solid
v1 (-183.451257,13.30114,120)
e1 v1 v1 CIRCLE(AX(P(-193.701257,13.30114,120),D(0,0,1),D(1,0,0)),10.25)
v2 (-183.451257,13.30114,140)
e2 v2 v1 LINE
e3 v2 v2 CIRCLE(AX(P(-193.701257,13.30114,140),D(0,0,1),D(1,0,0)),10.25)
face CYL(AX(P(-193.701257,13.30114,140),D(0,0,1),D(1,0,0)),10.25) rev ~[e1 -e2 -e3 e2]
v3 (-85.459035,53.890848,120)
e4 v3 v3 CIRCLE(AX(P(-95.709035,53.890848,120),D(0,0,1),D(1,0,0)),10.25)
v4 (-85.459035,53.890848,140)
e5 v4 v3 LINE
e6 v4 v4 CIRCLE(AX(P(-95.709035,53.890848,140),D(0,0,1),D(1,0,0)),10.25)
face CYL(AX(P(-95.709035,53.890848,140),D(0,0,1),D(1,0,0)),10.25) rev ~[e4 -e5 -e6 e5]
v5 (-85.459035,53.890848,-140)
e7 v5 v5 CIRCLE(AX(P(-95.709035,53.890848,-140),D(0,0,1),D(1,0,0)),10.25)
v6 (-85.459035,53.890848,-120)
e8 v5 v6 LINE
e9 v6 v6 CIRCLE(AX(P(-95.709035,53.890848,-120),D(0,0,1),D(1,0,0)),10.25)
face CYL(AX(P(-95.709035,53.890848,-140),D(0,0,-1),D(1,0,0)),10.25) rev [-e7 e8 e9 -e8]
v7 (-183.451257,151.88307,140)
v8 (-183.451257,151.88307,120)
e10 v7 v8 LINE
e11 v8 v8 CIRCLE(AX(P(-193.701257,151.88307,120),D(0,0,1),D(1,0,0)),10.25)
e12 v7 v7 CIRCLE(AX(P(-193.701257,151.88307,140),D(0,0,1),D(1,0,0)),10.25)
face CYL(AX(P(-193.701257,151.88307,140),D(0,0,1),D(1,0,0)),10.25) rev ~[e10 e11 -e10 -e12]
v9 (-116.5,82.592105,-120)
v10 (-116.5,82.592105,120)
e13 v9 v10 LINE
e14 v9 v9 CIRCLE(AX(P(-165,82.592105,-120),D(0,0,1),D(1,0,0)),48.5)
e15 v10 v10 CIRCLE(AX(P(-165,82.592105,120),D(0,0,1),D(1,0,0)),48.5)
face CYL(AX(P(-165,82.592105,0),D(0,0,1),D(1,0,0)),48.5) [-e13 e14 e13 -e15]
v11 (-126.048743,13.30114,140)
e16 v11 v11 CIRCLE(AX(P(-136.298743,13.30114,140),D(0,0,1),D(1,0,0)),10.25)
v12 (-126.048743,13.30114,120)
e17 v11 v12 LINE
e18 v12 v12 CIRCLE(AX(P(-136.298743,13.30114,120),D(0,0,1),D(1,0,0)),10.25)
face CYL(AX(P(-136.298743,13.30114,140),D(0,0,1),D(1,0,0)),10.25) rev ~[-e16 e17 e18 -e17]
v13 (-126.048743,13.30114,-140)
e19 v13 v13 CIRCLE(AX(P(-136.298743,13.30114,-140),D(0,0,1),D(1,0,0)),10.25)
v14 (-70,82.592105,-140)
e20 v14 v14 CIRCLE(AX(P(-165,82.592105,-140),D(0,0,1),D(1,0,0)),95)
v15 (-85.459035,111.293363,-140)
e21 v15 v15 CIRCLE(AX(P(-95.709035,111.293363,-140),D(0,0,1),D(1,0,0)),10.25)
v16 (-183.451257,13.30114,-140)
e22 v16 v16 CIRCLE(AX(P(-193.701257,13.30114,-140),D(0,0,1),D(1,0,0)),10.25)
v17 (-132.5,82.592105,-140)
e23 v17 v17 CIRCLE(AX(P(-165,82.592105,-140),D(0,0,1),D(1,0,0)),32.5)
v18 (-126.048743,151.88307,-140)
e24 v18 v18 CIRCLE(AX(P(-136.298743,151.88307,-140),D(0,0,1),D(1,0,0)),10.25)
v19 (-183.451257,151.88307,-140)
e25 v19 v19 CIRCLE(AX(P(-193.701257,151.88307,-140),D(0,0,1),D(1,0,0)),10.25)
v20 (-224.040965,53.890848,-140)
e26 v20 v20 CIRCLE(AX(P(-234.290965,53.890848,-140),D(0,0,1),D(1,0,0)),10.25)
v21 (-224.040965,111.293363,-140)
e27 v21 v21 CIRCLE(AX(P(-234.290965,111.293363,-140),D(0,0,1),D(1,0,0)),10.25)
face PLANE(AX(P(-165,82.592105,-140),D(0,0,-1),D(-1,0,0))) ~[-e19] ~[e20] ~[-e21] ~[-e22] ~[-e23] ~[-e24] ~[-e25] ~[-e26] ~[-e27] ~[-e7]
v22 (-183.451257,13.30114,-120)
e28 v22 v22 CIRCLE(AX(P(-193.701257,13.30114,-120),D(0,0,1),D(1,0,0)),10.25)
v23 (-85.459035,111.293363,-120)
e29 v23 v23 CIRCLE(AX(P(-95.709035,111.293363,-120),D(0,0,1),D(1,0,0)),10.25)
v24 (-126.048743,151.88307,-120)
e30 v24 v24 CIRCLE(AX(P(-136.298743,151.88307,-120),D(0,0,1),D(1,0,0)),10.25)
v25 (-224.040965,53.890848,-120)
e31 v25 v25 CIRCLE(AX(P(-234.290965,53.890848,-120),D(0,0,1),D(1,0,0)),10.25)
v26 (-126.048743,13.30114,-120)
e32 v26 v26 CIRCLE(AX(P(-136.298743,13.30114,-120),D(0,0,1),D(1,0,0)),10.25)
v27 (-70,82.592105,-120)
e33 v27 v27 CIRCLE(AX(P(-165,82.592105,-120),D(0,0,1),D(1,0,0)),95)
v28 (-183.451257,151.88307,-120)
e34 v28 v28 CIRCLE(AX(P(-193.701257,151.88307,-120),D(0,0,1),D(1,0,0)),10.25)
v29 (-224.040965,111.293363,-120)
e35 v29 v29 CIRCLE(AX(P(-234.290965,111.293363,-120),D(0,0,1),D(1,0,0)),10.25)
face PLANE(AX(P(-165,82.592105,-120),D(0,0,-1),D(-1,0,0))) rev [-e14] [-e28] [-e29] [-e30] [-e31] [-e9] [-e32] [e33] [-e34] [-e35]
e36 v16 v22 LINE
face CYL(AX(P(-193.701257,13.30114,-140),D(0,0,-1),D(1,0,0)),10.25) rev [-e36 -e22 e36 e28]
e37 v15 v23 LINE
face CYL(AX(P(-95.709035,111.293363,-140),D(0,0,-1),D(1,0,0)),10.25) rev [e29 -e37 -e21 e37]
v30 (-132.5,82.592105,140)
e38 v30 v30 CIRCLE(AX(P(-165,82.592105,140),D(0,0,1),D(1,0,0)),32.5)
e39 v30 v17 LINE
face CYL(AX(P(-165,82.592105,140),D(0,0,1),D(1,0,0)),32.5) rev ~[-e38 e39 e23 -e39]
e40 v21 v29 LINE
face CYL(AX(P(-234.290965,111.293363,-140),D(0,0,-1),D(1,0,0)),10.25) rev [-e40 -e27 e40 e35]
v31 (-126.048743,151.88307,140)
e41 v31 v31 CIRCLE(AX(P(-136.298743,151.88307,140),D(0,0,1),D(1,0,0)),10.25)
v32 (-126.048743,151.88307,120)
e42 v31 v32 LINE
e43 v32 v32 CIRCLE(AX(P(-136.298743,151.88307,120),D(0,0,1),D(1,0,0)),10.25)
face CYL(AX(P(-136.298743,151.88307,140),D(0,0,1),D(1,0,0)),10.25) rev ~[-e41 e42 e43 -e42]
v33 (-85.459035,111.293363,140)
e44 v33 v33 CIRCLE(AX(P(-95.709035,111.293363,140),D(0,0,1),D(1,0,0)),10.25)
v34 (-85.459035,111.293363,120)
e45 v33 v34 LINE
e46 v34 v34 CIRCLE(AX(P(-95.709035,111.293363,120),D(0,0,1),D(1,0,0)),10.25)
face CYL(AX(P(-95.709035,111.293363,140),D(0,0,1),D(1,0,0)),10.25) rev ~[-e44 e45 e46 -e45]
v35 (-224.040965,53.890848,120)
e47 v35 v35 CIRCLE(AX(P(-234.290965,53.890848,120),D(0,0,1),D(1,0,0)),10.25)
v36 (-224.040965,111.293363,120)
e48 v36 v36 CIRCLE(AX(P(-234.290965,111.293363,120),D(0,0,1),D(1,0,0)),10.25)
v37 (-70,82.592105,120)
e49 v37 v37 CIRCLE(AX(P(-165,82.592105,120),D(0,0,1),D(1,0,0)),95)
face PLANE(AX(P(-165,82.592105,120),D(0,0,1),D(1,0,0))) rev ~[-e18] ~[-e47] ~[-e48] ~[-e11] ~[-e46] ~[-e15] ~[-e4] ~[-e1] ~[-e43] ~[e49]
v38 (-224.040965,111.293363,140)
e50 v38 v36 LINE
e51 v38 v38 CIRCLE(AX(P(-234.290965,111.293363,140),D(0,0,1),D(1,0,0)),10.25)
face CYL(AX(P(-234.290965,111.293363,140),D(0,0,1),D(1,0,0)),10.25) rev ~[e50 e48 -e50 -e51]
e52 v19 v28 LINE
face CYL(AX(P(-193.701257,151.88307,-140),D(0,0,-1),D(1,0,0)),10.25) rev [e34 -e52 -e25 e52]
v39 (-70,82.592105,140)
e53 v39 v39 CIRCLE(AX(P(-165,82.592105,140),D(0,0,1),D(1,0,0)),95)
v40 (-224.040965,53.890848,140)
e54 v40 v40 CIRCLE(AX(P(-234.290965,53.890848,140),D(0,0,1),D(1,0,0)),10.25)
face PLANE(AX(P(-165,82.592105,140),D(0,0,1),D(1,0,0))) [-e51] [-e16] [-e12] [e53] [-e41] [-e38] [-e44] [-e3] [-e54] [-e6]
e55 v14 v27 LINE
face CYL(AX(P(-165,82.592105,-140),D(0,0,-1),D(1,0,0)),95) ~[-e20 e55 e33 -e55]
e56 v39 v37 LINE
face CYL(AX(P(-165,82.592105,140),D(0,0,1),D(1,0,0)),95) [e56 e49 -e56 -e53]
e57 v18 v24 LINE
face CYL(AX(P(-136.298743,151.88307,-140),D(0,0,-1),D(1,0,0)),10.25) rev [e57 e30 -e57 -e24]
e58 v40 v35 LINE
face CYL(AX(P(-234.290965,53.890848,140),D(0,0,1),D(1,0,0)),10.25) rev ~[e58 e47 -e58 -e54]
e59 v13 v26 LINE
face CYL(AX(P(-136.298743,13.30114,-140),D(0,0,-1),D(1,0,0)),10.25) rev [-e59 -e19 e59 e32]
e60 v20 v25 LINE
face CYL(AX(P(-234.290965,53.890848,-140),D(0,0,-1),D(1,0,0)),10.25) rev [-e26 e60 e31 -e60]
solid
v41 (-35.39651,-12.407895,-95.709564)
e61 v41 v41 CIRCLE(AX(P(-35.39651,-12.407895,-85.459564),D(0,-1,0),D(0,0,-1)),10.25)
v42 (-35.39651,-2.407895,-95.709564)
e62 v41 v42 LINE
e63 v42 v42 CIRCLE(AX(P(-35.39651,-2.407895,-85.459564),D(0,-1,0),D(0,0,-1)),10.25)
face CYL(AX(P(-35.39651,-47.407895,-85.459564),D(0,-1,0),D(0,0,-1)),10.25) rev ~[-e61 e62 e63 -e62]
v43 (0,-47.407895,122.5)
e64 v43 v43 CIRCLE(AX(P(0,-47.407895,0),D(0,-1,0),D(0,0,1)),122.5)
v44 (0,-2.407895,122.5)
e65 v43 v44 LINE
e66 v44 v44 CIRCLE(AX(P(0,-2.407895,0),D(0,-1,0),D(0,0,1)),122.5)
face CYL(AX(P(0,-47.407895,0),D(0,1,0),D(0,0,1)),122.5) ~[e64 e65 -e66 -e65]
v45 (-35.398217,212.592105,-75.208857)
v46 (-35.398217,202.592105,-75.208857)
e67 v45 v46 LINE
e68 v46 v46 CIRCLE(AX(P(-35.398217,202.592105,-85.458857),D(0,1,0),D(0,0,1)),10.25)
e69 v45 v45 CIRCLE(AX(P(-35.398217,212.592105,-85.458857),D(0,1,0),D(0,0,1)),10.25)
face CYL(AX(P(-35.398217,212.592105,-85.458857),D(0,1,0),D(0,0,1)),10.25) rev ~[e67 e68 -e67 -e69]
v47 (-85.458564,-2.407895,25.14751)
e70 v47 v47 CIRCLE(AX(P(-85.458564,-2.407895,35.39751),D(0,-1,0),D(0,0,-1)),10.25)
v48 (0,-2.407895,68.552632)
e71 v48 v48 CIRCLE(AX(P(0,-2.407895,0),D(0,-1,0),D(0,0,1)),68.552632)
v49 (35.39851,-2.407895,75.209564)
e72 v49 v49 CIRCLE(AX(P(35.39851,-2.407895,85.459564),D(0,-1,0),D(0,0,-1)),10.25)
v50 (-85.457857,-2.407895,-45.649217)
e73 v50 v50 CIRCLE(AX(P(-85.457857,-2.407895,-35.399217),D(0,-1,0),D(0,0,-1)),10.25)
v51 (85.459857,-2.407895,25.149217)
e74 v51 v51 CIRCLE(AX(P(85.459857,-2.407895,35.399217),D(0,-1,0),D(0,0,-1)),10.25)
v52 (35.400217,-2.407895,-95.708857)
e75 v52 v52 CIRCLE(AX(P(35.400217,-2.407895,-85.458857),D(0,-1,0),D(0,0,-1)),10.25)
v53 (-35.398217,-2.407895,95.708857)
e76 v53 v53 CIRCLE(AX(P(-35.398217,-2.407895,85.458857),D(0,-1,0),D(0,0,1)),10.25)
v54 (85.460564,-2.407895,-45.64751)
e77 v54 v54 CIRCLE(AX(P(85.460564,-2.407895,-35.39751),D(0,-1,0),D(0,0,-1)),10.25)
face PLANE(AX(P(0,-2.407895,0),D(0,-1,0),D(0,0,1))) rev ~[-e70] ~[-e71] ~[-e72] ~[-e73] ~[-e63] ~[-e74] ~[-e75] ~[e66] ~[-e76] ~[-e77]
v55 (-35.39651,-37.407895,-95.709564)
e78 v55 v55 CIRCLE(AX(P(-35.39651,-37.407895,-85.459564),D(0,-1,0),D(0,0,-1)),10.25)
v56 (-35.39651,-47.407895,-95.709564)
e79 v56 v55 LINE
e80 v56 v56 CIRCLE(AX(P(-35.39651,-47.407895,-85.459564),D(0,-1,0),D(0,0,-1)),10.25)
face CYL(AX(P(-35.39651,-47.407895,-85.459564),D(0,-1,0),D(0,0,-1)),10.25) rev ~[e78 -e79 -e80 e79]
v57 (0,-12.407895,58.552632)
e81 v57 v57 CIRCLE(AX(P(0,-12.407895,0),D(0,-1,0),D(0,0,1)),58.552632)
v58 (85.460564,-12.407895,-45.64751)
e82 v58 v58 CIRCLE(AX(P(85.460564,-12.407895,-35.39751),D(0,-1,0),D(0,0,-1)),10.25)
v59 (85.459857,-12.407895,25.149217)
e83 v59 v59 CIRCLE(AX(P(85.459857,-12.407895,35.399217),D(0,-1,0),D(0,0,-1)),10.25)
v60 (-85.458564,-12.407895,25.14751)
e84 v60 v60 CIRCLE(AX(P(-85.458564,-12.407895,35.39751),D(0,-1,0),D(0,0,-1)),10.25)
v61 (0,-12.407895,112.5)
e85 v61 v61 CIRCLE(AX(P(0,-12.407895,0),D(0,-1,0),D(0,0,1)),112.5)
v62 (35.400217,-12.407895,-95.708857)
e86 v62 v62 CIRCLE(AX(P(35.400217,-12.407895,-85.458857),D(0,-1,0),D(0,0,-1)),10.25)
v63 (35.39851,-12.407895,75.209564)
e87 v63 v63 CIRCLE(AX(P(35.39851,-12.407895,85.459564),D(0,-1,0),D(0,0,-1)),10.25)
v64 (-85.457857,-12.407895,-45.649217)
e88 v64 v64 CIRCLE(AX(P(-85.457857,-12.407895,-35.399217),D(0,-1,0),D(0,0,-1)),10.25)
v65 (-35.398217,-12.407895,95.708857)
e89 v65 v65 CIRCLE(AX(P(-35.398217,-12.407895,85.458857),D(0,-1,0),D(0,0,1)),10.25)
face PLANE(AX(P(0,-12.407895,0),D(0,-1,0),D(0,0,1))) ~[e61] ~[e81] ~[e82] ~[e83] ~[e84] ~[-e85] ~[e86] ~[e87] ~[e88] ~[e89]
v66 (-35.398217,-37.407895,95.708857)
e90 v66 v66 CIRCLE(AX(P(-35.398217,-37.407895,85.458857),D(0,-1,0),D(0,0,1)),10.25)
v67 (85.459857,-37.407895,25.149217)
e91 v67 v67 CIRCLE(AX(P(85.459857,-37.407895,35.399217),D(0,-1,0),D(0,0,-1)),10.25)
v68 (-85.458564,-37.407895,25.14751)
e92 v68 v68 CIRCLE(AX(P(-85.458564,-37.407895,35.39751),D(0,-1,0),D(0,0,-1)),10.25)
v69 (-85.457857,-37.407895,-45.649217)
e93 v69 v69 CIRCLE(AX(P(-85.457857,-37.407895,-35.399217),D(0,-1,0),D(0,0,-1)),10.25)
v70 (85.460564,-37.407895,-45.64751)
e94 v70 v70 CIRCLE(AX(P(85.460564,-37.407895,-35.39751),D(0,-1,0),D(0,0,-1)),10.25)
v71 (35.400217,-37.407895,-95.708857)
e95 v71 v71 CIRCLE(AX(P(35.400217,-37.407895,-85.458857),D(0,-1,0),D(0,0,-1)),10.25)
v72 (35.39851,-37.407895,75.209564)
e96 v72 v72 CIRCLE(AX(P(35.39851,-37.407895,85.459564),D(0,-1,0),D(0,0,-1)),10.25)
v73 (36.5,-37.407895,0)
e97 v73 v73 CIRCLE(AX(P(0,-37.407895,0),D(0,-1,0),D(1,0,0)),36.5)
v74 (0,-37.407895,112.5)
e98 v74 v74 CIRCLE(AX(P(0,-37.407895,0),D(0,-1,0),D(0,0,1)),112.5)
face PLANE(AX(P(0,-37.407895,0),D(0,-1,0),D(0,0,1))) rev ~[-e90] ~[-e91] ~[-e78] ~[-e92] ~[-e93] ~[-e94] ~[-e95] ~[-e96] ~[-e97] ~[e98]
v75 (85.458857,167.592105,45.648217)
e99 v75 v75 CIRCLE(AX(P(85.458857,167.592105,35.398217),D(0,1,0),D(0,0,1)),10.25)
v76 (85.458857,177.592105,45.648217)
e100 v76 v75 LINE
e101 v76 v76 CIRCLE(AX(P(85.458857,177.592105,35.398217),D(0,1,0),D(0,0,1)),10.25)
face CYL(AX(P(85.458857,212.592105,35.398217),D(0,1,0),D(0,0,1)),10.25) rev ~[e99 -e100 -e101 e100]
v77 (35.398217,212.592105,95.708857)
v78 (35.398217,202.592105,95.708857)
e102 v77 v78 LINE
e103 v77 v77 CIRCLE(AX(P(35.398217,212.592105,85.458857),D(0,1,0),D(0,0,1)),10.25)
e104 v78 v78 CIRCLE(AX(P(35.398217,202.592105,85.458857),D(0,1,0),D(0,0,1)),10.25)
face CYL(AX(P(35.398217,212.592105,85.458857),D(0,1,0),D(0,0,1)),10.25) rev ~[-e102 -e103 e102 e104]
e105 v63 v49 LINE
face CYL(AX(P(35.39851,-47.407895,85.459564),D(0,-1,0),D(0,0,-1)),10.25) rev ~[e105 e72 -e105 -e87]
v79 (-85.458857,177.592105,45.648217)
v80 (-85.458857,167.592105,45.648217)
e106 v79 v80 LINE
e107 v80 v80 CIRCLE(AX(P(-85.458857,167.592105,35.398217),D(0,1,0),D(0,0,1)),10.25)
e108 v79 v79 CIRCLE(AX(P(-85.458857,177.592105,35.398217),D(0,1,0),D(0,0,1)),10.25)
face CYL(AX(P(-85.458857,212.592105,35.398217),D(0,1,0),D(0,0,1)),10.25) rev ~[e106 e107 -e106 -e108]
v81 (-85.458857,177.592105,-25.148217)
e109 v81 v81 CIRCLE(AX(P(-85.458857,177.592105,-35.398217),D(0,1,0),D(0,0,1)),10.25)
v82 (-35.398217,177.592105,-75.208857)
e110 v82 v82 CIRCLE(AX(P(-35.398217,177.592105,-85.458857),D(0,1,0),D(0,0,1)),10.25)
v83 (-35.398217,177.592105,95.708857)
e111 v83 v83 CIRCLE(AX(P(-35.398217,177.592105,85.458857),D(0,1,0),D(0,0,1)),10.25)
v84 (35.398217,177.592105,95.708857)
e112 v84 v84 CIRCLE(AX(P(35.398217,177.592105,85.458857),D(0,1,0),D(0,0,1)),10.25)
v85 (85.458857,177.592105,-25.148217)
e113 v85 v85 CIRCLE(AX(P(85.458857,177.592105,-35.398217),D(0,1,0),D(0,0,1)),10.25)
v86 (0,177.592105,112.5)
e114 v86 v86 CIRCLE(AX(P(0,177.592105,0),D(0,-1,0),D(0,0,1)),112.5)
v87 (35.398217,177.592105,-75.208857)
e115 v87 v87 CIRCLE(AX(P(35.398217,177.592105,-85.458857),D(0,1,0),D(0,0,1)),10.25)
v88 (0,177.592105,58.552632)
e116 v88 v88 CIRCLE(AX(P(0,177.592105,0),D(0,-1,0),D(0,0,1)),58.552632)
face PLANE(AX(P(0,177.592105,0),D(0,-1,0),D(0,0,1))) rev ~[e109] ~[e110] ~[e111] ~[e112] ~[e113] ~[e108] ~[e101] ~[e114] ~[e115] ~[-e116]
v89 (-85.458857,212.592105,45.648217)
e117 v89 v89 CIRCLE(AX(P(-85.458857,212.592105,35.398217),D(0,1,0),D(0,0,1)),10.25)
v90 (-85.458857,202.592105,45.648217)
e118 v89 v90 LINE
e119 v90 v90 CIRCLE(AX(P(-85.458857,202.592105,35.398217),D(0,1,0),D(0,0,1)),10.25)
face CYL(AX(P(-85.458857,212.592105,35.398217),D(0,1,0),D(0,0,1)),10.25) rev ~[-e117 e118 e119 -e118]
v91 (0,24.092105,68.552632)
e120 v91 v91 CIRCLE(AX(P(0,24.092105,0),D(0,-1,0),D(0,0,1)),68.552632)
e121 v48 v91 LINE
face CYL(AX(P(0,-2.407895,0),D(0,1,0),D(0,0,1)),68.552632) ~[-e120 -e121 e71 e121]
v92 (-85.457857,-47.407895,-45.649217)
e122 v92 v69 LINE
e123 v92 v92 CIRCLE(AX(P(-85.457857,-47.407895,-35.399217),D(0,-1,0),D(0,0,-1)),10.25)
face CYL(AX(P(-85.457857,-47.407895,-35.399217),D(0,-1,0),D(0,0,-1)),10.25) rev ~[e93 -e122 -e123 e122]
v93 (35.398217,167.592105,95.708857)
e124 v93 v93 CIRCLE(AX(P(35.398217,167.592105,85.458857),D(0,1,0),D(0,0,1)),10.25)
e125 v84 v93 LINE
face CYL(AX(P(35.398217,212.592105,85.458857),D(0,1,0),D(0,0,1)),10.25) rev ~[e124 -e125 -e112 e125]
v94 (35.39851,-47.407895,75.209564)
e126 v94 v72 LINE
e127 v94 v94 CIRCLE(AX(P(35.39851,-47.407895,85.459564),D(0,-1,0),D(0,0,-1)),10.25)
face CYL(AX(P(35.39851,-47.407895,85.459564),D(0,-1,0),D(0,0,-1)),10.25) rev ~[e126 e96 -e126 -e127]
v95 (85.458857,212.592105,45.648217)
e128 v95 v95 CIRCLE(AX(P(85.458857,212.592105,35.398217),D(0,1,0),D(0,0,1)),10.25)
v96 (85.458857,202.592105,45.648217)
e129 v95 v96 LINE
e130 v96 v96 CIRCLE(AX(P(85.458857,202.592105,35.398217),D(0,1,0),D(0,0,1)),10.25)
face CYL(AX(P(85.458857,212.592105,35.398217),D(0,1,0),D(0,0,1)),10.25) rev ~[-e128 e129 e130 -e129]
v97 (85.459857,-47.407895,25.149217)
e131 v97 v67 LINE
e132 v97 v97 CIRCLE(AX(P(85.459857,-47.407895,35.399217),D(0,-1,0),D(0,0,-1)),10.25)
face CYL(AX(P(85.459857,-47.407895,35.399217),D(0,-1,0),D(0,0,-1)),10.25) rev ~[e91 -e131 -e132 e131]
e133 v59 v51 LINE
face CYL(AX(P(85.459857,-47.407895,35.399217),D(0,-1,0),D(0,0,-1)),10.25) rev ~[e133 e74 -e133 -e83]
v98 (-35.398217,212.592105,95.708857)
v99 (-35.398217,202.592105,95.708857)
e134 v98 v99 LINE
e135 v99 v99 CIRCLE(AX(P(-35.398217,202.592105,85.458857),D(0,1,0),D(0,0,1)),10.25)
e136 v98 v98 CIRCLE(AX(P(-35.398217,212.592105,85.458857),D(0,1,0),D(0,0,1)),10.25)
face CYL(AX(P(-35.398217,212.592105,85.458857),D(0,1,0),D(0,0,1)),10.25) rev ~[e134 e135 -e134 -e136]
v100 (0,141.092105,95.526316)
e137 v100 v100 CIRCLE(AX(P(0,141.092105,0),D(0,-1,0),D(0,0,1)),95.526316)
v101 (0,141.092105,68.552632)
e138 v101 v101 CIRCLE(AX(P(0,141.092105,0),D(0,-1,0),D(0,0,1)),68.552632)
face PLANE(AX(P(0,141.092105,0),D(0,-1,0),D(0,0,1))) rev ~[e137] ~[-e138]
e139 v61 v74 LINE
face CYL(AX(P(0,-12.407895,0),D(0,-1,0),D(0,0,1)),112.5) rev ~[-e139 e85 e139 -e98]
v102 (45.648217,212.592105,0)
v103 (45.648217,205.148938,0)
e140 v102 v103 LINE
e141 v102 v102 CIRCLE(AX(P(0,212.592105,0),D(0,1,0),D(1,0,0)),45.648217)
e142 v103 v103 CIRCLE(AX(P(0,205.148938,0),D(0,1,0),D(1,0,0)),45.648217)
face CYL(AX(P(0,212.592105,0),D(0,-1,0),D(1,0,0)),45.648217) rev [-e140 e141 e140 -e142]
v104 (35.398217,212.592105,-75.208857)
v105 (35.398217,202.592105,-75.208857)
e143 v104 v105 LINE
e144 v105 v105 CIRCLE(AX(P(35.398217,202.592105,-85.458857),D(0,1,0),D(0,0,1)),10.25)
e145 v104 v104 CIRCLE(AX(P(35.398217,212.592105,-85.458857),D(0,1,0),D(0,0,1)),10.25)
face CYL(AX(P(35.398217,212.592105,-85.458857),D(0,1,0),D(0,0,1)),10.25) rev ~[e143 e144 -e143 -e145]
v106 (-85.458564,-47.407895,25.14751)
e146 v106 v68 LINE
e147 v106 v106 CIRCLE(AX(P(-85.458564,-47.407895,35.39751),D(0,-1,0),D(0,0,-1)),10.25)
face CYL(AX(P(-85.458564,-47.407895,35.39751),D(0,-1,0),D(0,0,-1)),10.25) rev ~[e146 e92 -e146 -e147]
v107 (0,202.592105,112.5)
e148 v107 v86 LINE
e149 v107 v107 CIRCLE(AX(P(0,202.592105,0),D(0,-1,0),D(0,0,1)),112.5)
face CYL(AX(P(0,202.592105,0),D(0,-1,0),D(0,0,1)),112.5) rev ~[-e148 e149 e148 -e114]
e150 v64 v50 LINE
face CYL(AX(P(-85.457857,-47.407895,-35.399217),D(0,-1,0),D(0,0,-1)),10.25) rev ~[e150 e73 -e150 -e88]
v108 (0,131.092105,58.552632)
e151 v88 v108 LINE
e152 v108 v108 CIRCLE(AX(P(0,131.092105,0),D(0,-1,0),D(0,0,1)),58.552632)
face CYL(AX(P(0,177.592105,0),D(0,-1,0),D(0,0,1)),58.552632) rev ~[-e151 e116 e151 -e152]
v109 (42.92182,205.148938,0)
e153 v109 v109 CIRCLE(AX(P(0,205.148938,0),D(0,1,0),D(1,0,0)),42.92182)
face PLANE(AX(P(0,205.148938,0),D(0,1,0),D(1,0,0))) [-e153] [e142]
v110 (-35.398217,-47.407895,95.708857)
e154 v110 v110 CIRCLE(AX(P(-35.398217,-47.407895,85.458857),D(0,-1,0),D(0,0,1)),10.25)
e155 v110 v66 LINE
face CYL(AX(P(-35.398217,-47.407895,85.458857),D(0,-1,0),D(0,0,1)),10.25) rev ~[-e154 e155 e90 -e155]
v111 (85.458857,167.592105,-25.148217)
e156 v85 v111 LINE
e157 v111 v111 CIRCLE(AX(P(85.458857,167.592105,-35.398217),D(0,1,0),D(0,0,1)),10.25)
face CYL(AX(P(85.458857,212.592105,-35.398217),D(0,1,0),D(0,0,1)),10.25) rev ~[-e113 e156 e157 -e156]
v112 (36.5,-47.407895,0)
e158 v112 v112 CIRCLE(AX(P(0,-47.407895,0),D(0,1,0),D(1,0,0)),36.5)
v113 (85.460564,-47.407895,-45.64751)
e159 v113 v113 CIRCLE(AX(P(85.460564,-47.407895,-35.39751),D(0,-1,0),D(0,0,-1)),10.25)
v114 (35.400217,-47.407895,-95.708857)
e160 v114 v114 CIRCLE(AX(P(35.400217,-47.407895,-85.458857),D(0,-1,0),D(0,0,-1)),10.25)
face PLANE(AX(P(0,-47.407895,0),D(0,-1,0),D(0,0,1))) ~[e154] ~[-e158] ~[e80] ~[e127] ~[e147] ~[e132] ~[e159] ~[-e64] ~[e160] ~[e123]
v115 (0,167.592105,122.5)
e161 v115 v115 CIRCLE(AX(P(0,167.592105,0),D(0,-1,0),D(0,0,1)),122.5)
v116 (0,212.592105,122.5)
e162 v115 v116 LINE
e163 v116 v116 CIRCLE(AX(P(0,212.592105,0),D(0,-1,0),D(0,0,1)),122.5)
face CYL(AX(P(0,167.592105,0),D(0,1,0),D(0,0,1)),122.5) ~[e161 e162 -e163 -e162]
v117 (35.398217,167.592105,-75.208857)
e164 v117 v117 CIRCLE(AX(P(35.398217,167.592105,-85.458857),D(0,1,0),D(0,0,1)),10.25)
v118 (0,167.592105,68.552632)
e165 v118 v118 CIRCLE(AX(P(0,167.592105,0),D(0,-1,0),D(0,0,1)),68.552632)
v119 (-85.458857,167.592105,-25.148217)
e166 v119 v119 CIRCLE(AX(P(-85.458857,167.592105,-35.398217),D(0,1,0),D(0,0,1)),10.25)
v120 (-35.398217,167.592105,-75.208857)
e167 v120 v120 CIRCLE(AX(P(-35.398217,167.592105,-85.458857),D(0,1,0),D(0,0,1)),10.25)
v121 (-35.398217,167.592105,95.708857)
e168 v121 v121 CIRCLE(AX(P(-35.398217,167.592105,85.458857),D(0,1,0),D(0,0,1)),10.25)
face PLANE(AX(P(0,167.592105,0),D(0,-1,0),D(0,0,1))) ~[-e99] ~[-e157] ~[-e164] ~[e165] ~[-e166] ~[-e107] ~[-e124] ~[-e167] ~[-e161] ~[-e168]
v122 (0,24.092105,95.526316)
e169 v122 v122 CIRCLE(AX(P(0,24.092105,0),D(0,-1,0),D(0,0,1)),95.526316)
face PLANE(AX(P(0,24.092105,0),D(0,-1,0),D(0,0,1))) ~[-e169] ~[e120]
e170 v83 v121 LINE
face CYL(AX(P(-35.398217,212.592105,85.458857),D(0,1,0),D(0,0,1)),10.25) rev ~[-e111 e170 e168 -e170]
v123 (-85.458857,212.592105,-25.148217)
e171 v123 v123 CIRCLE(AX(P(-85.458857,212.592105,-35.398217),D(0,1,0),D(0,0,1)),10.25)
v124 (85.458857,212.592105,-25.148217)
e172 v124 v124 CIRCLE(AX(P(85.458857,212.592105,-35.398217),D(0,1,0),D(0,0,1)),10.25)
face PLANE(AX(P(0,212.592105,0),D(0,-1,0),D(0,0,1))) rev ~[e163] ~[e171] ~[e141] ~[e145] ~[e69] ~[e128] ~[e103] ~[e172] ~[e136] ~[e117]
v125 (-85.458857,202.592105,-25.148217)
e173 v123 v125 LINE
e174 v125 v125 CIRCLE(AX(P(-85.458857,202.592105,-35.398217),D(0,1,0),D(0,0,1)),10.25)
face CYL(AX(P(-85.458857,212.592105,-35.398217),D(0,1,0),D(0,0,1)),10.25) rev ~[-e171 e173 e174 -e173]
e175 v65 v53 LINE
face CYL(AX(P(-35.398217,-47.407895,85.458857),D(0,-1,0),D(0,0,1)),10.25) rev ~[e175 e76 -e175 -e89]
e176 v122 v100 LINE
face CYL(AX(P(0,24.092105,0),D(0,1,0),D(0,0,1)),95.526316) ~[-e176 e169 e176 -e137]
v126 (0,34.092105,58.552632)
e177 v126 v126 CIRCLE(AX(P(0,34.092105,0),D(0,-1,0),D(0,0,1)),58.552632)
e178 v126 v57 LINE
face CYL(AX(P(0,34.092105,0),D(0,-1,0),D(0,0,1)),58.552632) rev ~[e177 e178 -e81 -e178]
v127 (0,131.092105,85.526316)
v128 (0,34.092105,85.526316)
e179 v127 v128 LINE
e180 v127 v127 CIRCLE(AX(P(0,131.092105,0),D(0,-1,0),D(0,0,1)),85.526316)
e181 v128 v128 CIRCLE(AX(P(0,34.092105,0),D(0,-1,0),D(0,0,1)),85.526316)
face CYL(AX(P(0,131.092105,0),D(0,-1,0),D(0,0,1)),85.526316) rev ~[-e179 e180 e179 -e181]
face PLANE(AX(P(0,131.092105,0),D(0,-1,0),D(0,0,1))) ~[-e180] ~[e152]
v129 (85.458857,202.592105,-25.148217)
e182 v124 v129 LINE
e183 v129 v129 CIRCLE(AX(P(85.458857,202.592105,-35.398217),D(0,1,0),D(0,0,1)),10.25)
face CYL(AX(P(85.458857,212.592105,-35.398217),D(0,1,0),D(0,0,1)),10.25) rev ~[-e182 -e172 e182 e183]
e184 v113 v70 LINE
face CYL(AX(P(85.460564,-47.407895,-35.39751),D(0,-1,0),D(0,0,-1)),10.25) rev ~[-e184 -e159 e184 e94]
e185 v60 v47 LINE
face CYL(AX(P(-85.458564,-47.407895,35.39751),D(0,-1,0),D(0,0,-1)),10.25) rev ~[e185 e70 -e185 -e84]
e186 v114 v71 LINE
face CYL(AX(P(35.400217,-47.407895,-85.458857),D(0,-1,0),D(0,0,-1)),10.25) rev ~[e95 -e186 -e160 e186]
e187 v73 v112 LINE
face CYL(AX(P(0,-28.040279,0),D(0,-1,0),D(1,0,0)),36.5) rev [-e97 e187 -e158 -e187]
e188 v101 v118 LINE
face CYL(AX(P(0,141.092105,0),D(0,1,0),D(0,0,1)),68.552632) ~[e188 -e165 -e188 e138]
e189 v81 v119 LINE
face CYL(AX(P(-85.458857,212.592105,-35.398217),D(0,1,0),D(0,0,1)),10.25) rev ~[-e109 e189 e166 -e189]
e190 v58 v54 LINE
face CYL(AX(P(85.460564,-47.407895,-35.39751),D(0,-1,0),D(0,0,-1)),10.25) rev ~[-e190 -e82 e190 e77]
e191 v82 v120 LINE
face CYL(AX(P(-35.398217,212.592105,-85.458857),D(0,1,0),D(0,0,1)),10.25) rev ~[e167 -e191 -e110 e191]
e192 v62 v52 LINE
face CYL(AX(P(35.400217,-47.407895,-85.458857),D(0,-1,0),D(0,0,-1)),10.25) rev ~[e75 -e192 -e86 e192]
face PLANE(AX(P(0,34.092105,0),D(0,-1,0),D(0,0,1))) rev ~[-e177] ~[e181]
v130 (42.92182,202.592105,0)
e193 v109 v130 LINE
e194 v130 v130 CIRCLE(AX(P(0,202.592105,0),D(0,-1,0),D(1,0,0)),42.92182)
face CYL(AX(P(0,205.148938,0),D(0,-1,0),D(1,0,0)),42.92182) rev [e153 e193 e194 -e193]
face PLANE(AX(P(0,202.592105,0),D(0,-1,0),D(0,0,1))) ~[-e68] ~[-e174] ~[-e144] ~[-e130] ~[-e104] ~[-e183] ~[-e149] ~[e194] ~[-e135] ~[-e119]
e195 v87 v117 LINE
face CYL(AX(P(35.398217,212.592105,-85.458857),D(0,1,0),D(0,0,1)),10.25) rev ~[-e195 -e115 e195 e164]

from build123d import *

# Parameters (mm, degrees)
CUT_EXTRUDE2_REACH  = 314.43
SKETCH2_R           = 10.25
CUT_EXTRUDE3_REACH  = 314.43
SKETCH3_R           = 10.25
SKETCH4_R           = 48.5
BOSS_EXTRUDE2_DEPTH = 140
SKETCH5_R           = 95
BOSS_EXTRUDE3_DEPTH = 20
SKETCH6_R           = 10.25
CUT_EXTRUDE4_DEPTH  = 20
SKETCH7_R           = 32.5
CUT_EXTRUDE5_DEPTH  = 438.258965855


with BuildPart() as part:
    # Sketch1 → Revolve-Thin1 (revolve)
    with BuildSketch(Plane.XY, mode=Mode.PRIVATE) as revolve_thin1_sk:
        Polygon((0, 202.592105263), (30.263157895, 202.592105263), (112.5, 202.592105263), (112.5, 177.592105263), (58.552631579, 177.592105263), (58.552631579, 131.092105263), (85.526315789, 131.092105263), (85.526315789, 34.092105263), (58.552631579, 34.092105263), (58.552631579, -12.407894737), (112.5, -12.407894737), (112.5, -37.407894737), (37.371153568, -37.407894737), (0, -37.407894737), (0, -47.407894737), (37.371153568, -47.407894737), (122.5, -47.407894737), (122.5, -2.407894737), (68.552631579, -2.407894737), (68.552631579, 24.092105263), (95.526315789, 24.092105263), (95.526315789, 141.092105263), (68.552631579, 141.092105263), (68.552631579, 167.592105263), (122.5, 167.592105263), (122.5, 212.592105263), (30.263157895, 212.592105263), (0, 212.592105263), align=None)
    revolve(revolve_thin1_sk.sketch.rotate(Axis((0, 217.434210526, 0), (0, -1, 0)), 90), axis=Axis((0, 217.434210526, 0), (0, -1, 0)))

    # Cut-Extrude2: up to this face of the body (flat: up to its plane)
    cut_extrude2_end = Plane(part.part.faces().sort_by_distance((0, 167.592105263, -72.017454807))[0])
    # Sketch2 → Cut-Extrude2 (cut, up to the picked face)
    with BuildSketch(Plane(origin=(0, 212.592105263, 0), x_dir=(1, 0, 0), z_dir=(0, 1, 0)), mode=Mode.PRIVATE) as cut_extrude2_sk1:
        with Locations(Location((-35.398217494, 85.458856757, 0), (0, 0, 270))):
            Circle(SKETCH2_R)
    cut_extrude2_tool1 = split(extrude(cut_extrude2_sk1.sketch, amount=-CUT_EXTRUDE2_REACH, mode=Mode.PRIVATE), bisect_by=cut_extrude2_end, keep=Keep.BOTH, mode=Mode.PRIVATE)
    # Sketch2 → Cut-Extrude2 (cut, up to the picked face)
    with BuildSketch(Plane(origin=(0, 212.592105263, 0), x_dir=(1, 0, 0), z_dir=(0, 1, 0)), mode=Mode.PRIVATE) as cut_extrude2_sk2:
        with Locations(Location((35.398217494, 85.458856757, 0), (0, 0, 270))):
            Circle(SKETCH2_R)
    cut_extrude2_tool2 = split(extrude(cut_extrude2_sk2.sketch, amount=-CUT_EXTRUDE2_REACH, mode=Mode.PRIVATE), bisect_by=cut_extrude2_end, keep=Keep.BOTH, mode=Mode.PRIVATE)
    # Sketch2 → Cut-Extrude2 (cut, up to the picked face)
    with BuildSketch(Plane(origin=(0, 212.592105263, 0), x_dir=(1, 0, 0), z_dir=(0, 1, 0)), mode=Mode.PRIVATE) as cut_extrude2_sk3:
        with Locations(Location((85.458856757, 35.398217494, 0), (0, 0, 270))):
            Circle(SKETCH2_R)
    cut_extrude2_tool3 = split(extrude(cut_extrude2_sk3.sketch, amount=-CUT_EXTRUDE2_REACH, mode=Mode.PRIVATE), bisect_by=cut_extrude2_end, keep=Keep.BOTH, mode=Mode.PRIVATE)
    # Sketch2 → Cut-Extrude2 (cut, up to the picked face)
    with BuildSketch(Plane(origin=(0, 212.592105263, 0), x_dir=(1, 0, 0), z_dir=(0, 1, 0)), mode=Mode.PRIVATE) as cut_extrude2_sk4:
        with Locations(Location((85.458856757, -35.398217494, 0), (0, 0, 270))):
            Circle(SKETCH2_R)
    cut_extrude2_tool4 = split(extrude(cut_extrude2_sk4.sketch, amount=-CUT_EXTRUDE2_REACH, mode=Mode.PRIVATE), bisect_by=cut_extrude2_end, keep=Keep.BOTH, mode=Mode.PRIVATE)
    # Sketch2 → Cut-Extrude2 (cut, up to the picked face)
    with BuildSketch(Plane(origin=(0, 212.592105263, 0), x_dir=(1, 0, 0), z_dir=(0, 1, 0)), mode=Mode.PRIVATE) as cut_extrude2_sk5:
        with Locations(Location((35.398217494, -85.458856757, 0), (0, 0, 270))):
            Circle(SKETCH2_R)
    cut_extrude2_tool5 = split(extrude(cut_extrude2_sk5.sketch, amount=-CUT_EXTRUDE2_REACH, mode=Mode.PRIVATE), bisect_by=cut_extrude2_end, keep=Keep.BOTH, mode=Mode.PRIVATE)
    # Sketch2 → Cut-Extrude2 (cut, up to the picked face)
    with BuildSketch(Plane(origin=(0, 212.592105263, 0), x_dir=(1, 0, 0), z_dir=(0, 1, 0)), mode=Mode.PRIVATE) as cut_extrude2_sk6:
        with Locations(Location((-35.398217494, -85.458856757, 0), (0, 0, 270))):
            Circle(SKETCH2_R)
    cut_extrude2_tool6 = split(extrude(cut_extrude2_sk6.sketch, amount=-CUT_EXTRUDE2_REACH, mode=Mode.PRIVATE), bisect_by=cut_extrude2_end, keep=Keep.BOTH, mode=Mode.PRIVATE)
    # Sketch2 → Cut-Extrude2 (cut, up to the picked face)
    with BuildSketch(Plane(origin=(0, 212.592105263, 0), x_dir=(1, 0, 0), z_dir=(0, 1, 0)), mode=Mode.PRIVATE) as cut_extrude2_sk7:
        with Locations(Location((-85.458856757, -35.398217494, 0), (0, 0, 270))):
            Circle(SKETCH2_R)
    cut_extrude2_tool7 = split(extrude(cut_extrude2_sk7.sketch, amount=-CUT_EXTRUDE2_REACH, mode=Mode.PRIVATE), bisect_by=cut_extrude2_end, keep=Keep.BOTH, mode=Mode.PRIVATE)
    # Sketch2 → Cut-Extrude2 (cut, up to the picked face)
    with BuildSketch(Plane(origin=(0, 212.592105263, 0), x_dir=(1, 0, 0), z_dir=(0, 1, 0)), mode=Mode.PRIVATE) as cut_extrude2_sk8:
        with Locations(Location((-85.458856757, 35.398217494, 0), (0, 0, 270))):
            Circle(SKETCH2_R)
    cut_extrude2_tool8 = split(extrude(cut_extrude2_sk8.sketch, amount=-CUT_EXTRUDE2_REACH, mode=Mode.PRIVATE), bisect_by=cut_extrude2_end, keep=Keep.BOTH, mode=Mode.PRIVATE)
    add(cut_extrude2_tool1.solids().sort_by(Axis((-35.398217, 212.592105, -85.458857), (0, -1, 0)))[0], mode=Mode.SUBTRACT)
    add(cut_extrude2_tool2.solids().sort_by(Axis((35.398217, 212.592105, -85.458857), (0, -1, 0)))[0], mode=Mode.SUBTRACT)
    add(cut_extrude2_tool3.solids().sort_by(Axis((85.458857, 212.592105, -35.398217), (0, -1, 0)))[0], mode=Mode.SUBTRACT)
    add(cut_extrude2_tool4.solids().sort_by(Axis((85.458857, 212.592105, 35.398217), (0, -1, 0)))[0], mode=Mode.SUBTRACT)
    add(cut_extrude2_tool5.solids().sort_by(Axis((35.398217, 212.592105, 85.458857), (0, -1, 0)))[0], mode=Mode.SUBTRACT)
    add(cut_extrude2_tool6.solids().sort_by(Axis((-35.398217, 212.592105, 85.458857), (0, -1, 0)))[0], mode=Mode.SUBTRACT)
    add(cut_extrude2_tool7.solids().sort_by(Axis((-85.458857, 212.592105, 35.398217), (0, -1, 0)))[0], mode=Mode.SUBTRACT)
    add(cut_extrude2_tool8.solids().sort_by(Axis((-85.458857, 212.592105, -35.398217), (0, -1, 0)))[0], mode=Mode.SUBTRACT)

    # Cut-Extrude3: up to this face of the body (flat: up to its plane)
    cut_extrude3_end = Plane(part.part.faces().sort_by_distance((0, -2.407894737, -119.035176772))[0])
    # Sketch3 → Cut-Extrude3 (cut, up to the picked face)
    with BuildSketch(Plane.XZ.offset(47.407894737), mode=Mode.PRIVATE) as cut_extrude3_sk1:
        with Locations(Location((-35.398217494, 85.458856757, 0), (0, 0, 90))):
            Circle(SKETCH3_R)
    cut_extrude3_tool1 = split(extrude(cut_extrude3_sk1.sketch, amount=-CUT_EXTRUDE3_REACH, mode=Mode.PRIVATE), bisect_by=cut_extrude3_end, keep=Keep.BOTH, mode=Mode.PRIVATE)
    # Sketch3 → Cut-Extrude3 (cut, up to the picked face)
    with BuildSketch(Plane.XZ.offset(47.407894737), mode=Mode.PRIVATE) as cut_extrude3_sk2:
        with Locations(Location((35.398510387, 85.459563864, 0), (0, 0, 270))):
            Circle(SKETCH3_R)
    cut_extrude3_tool2 = split(extrude(cut_extrude3_sk2.sketch, amount=-CUT_EXTRUDE3_REACH, mode=Mode.PRIVATE), bisect_by=cut_extrude3_end, keep=Keep.BOTH, mode=Mode.PRIVATE)
    # Sketch3 → Cut-Extrude3 (cut, up to the picked face)
    with BuildSketch(Plane.XZ.offset(47.407894737), mode=Mode.PRIVATE) as cut_extrude3_sk3:
        with Locations(Location((85.459856757, 35.399217494, 0), (0, 0, 270))):
            Circle(SKETCH3_R)
    cut_extrude3_tool3 = split(extrude(cut_extrude3_sk3.sketch, amount=-CUT_EXTRUDE3_REACH, mode=Mode.PRIVATE), bisect_by=cut_extrude3_end, keep=Keep.BOTH, mode=Mode.PRIVATE)
    # Sketch3 → Cut-Extrude3 (cut, up to the picked face)
    with BuildSketch(Plane.XZ.offset(47.407894737), mode=Mode.PRIVATE) as cut_extrude3_sk4:
        with Locations(Location((85.460563864, -35.397510387, 0), (0, 0, 270))):
            Circle(SKETCH3_R)
    cut_extrude3_tool4 = split(extrude(cut_extrude3_sk4.sketch, amount=-CUT_EXTRUDE3_REACH, mode=Mode.PRIVATE), bisect_by=cut_extrude3_end, keep=Keep.BOTH, mode=Mode.PRIVATE)
    # Sketch3 → Cut-Extrude3 (cut, up to the picked face)
    with BuildSketch(Plane.XZ.offset(47.407894737), mode=Mode.PRIVATE) as cut_extrude3_sk5:
        with Locations(Location((35.400217494, -85.458856757, 0), (0, 0, 270))):
            Circle(SKETCH3_R)
    cut_extrude3_tool5 = split(extrude(cut_extrude3_sk5.sketch, amount=-CUT_EXTRUDE3_REACH, mode=Mode.PRIVATE), bisect_by=cut_extrude3_end, keep=Keep.BOTH, mode=Mode.PRIVATE)
    # Sketch3 → Cut-Extrude3 (cut, up to the picked face)
    with BuildSketch(Plane.XZ.offset(47.407894737), mode=Mode.PRIVATE) as cut_extrude3_sk6:
        with Locations(Location((-35.396510387, -85.459563864, 0), (0, 0, 270))):
            Circle(SKETCH3_R)
    cut_extrude3_tool6 = split(extrude(cut_extrude3_sk6.sketch, amount=-CUT_EXTRUDE3_REACH, mode=Mode.PRIVATE), bisect_by=cut_extrude3_end, keep=Keep.BOTH, mode=Mode.PRIVATE)
    # Sketch3 → Cut-Extrude3 (cut, up to the picked face)
    with BuildSketch(Plane.XZ.offset(47.407894737), mode=Mode.PRIVATE) as cut_extrude3_sk7:
        with Locations(Location((-85.457856757, -35.399217494, 0), (0, 0, 270))):
            Circle(SKETCH3_R)
    cut_extrude3_tool7 = split(extrude(cut_extrude3_sk7.sketch, amount=-CUT_EXTRUDE3_REACH, mode=Mode.PRIVATE), bisect_by=cut_extrude3_end, keep=Keep.BOTH, mode=Mode.PRIVATE)
    # Sketch3 → Cut-Extrude3 (cut, up to the picked face)
    with BuildSketch(Plane.XZ.offset(47.407894737), mode=Mode.PRIVATE) as cut_extrude3_sk8:
        with Locations(Location((-85.458563864, 35.397510387, 0), (0, 0, 270))):
            Circle(SKETCH3_R)
    cut_extrude3_tool8 = split(extrude(cut_extrude3_sk8.sketch, amount=-CUT_EXTRUDE3_REACH, mode=Mode.PRIVATE), bisect_by=cut_extrude3_end, keep=Keep.BOTH, mode=Mode.PRIVATE)
    add(cut_extrude3_tool1.solids().sort_by(Axis((-35.398217, -47.407895, 85.458857), (0, 1, 0)))[0], mode=Mode.SUBTRACT)
    add(cut_extrude3_tool2.solids().sort_by(Axis((35.39851, -47.407895, 85.459564), (0, 1, 0)))[0], mode=Mode.SUBTRACT)
    add(cut_extrude3_tool3.solids().sort_by(Axis((85.459857, -47.407895, 35.399217), (0, 1, 0)))[0], mode=Mode.SUBTRACT)
    add(cut_extrude3_tool4.solids().sort_by(Axis((85.460564, -47.407895, -35.39751), (0, 1, 0)))[0], mode=Mode.SUBTRACT)
    add(cut_extrude3_tool5.solids().sort_by(Axis((35.400217, -47.407895, -85.458857), (0, 1, 0)))[0], mode=Mode.SUBTRACT)
    add(cut_extrude3_tool6.solids().sort_by(Axis((-35.39651, -47.407895, -85.459564), (0, 1, 0)))[0], mode=Mode.SUBTRACT)
    add(cut_extrude3_tool7.solids().sort_by(Axis((-85.457857, -47.407895, -35.399217), (0, 1, 0)))[0], mode=Mode.SUBTRACT)
    add(cut_extrude3_tool8.solids().sort_by(Axis((-85.458564, -47.407895, 35.39751), (0, 1, 0)))[0], mode=Mode.SUBTRACT)

    # Sketch8 → Cut-Revolve2 (revolve, cut)
    with BuildSketch(Plane.XY):
        Polygon((45.648217494, 212.592105263), (45.648217494, 205.148937664), (42.921819528, 205.148937664), (42.921819528, 198.524244021), (50, 198.524244021), (50, 120.35285903), (59.76905668, 120.35285903), (59.76905668, 82.592105263), (59.76905668, 44.389705253), (46, 44.389705253), (46, 29.815379238), (36.5, 29.815379238), (36.5, 18.332576923), (44, 18.332576923), (44, -28.04027858), (36.5, -28.04027858), (36.5, -47.407894737), (0, -47.407894737), (0, 212.592105263), align=None)
    revolve(axis=Axis((0, -47.407894737, 0), (0, 1, 0)), mode=Mode.SUBTRACT)


with BuildPart() as body_2:
    # Sketch4 → Boss-Extrude2 (new, symmetric)
    with BuildSketch(Plane.XY):
        with Locations((-165, 82.592105263)):
            Circle(SKETCH4_R)
    extrude(amount=BOSS_EXTRUDE2_DEPTH, both=True)

    # Sketch5 → Boss-Extrude3 (add)
    with BuildSketch(Plane.XY.offset(140)):
        with Locations((-165, 82.592105263)):
            Circle(SKETCH5_R)
    boss_extrude3 = extrude(amount=-BOSS_EXTRUDE3_DEPTH)

    # Sketch6 → Cut-Extrude4 (cut)
    with BuildSketch(Plane.XY.offset(140)):
        with Locations((-193.701257427, 151.883070202)):
            Circle(SKETCH6_R)
        with Locations((-136.298742573, 151.883070202)):
            Circle(SKETCH6_R)
        with Locations((-95.709035062, 111.293362691)):
            Circle(SKETCH6_R)
        with Locations((-95.709035062, 53.890847836)):
            Circle(SKETCH6_R)
        with Locations((-136.298742573, 13.301140325)):
            Circle(SKETCH6_R)
        with Locations((-193.701257427, 13.301140325)):
            Circle(SKETCH6_R)
        with Locations((-234.290964938, 53.890847836)):
            Circle(SKETCH6_R)
        with Locations((-234.290964938, 111.293362691)):
            Circle(SKETCH6_R)
    cut_extrude4 = extrude(amount=-CUT_EXTRUDE4_DEPTH, mode=Mode.SUBTRACT)

    # Mirror1: Boss-Extrude3 across plane
    add(boss_extrude3.mirror(Plane.XY))

    # Mirror2: Cut-Extrude4 across plane
    add(cut_extrude4.mirror(Plane.XY), mode=Mode.SUBTRACT)

    # Sketch7 → Cut-Extrude5 (cut, through all)
    with BuildSketch(Plane.XY.offset(140)):
        with Locations((-165, 82.592105263)):
            Circle(SKETCH7_R)
    extrude(amount=-CUT_EXTRUDE5_DEPTH, mode=Mode.SUBTRACT)


solid = Compound([part.part, body_2.part])
